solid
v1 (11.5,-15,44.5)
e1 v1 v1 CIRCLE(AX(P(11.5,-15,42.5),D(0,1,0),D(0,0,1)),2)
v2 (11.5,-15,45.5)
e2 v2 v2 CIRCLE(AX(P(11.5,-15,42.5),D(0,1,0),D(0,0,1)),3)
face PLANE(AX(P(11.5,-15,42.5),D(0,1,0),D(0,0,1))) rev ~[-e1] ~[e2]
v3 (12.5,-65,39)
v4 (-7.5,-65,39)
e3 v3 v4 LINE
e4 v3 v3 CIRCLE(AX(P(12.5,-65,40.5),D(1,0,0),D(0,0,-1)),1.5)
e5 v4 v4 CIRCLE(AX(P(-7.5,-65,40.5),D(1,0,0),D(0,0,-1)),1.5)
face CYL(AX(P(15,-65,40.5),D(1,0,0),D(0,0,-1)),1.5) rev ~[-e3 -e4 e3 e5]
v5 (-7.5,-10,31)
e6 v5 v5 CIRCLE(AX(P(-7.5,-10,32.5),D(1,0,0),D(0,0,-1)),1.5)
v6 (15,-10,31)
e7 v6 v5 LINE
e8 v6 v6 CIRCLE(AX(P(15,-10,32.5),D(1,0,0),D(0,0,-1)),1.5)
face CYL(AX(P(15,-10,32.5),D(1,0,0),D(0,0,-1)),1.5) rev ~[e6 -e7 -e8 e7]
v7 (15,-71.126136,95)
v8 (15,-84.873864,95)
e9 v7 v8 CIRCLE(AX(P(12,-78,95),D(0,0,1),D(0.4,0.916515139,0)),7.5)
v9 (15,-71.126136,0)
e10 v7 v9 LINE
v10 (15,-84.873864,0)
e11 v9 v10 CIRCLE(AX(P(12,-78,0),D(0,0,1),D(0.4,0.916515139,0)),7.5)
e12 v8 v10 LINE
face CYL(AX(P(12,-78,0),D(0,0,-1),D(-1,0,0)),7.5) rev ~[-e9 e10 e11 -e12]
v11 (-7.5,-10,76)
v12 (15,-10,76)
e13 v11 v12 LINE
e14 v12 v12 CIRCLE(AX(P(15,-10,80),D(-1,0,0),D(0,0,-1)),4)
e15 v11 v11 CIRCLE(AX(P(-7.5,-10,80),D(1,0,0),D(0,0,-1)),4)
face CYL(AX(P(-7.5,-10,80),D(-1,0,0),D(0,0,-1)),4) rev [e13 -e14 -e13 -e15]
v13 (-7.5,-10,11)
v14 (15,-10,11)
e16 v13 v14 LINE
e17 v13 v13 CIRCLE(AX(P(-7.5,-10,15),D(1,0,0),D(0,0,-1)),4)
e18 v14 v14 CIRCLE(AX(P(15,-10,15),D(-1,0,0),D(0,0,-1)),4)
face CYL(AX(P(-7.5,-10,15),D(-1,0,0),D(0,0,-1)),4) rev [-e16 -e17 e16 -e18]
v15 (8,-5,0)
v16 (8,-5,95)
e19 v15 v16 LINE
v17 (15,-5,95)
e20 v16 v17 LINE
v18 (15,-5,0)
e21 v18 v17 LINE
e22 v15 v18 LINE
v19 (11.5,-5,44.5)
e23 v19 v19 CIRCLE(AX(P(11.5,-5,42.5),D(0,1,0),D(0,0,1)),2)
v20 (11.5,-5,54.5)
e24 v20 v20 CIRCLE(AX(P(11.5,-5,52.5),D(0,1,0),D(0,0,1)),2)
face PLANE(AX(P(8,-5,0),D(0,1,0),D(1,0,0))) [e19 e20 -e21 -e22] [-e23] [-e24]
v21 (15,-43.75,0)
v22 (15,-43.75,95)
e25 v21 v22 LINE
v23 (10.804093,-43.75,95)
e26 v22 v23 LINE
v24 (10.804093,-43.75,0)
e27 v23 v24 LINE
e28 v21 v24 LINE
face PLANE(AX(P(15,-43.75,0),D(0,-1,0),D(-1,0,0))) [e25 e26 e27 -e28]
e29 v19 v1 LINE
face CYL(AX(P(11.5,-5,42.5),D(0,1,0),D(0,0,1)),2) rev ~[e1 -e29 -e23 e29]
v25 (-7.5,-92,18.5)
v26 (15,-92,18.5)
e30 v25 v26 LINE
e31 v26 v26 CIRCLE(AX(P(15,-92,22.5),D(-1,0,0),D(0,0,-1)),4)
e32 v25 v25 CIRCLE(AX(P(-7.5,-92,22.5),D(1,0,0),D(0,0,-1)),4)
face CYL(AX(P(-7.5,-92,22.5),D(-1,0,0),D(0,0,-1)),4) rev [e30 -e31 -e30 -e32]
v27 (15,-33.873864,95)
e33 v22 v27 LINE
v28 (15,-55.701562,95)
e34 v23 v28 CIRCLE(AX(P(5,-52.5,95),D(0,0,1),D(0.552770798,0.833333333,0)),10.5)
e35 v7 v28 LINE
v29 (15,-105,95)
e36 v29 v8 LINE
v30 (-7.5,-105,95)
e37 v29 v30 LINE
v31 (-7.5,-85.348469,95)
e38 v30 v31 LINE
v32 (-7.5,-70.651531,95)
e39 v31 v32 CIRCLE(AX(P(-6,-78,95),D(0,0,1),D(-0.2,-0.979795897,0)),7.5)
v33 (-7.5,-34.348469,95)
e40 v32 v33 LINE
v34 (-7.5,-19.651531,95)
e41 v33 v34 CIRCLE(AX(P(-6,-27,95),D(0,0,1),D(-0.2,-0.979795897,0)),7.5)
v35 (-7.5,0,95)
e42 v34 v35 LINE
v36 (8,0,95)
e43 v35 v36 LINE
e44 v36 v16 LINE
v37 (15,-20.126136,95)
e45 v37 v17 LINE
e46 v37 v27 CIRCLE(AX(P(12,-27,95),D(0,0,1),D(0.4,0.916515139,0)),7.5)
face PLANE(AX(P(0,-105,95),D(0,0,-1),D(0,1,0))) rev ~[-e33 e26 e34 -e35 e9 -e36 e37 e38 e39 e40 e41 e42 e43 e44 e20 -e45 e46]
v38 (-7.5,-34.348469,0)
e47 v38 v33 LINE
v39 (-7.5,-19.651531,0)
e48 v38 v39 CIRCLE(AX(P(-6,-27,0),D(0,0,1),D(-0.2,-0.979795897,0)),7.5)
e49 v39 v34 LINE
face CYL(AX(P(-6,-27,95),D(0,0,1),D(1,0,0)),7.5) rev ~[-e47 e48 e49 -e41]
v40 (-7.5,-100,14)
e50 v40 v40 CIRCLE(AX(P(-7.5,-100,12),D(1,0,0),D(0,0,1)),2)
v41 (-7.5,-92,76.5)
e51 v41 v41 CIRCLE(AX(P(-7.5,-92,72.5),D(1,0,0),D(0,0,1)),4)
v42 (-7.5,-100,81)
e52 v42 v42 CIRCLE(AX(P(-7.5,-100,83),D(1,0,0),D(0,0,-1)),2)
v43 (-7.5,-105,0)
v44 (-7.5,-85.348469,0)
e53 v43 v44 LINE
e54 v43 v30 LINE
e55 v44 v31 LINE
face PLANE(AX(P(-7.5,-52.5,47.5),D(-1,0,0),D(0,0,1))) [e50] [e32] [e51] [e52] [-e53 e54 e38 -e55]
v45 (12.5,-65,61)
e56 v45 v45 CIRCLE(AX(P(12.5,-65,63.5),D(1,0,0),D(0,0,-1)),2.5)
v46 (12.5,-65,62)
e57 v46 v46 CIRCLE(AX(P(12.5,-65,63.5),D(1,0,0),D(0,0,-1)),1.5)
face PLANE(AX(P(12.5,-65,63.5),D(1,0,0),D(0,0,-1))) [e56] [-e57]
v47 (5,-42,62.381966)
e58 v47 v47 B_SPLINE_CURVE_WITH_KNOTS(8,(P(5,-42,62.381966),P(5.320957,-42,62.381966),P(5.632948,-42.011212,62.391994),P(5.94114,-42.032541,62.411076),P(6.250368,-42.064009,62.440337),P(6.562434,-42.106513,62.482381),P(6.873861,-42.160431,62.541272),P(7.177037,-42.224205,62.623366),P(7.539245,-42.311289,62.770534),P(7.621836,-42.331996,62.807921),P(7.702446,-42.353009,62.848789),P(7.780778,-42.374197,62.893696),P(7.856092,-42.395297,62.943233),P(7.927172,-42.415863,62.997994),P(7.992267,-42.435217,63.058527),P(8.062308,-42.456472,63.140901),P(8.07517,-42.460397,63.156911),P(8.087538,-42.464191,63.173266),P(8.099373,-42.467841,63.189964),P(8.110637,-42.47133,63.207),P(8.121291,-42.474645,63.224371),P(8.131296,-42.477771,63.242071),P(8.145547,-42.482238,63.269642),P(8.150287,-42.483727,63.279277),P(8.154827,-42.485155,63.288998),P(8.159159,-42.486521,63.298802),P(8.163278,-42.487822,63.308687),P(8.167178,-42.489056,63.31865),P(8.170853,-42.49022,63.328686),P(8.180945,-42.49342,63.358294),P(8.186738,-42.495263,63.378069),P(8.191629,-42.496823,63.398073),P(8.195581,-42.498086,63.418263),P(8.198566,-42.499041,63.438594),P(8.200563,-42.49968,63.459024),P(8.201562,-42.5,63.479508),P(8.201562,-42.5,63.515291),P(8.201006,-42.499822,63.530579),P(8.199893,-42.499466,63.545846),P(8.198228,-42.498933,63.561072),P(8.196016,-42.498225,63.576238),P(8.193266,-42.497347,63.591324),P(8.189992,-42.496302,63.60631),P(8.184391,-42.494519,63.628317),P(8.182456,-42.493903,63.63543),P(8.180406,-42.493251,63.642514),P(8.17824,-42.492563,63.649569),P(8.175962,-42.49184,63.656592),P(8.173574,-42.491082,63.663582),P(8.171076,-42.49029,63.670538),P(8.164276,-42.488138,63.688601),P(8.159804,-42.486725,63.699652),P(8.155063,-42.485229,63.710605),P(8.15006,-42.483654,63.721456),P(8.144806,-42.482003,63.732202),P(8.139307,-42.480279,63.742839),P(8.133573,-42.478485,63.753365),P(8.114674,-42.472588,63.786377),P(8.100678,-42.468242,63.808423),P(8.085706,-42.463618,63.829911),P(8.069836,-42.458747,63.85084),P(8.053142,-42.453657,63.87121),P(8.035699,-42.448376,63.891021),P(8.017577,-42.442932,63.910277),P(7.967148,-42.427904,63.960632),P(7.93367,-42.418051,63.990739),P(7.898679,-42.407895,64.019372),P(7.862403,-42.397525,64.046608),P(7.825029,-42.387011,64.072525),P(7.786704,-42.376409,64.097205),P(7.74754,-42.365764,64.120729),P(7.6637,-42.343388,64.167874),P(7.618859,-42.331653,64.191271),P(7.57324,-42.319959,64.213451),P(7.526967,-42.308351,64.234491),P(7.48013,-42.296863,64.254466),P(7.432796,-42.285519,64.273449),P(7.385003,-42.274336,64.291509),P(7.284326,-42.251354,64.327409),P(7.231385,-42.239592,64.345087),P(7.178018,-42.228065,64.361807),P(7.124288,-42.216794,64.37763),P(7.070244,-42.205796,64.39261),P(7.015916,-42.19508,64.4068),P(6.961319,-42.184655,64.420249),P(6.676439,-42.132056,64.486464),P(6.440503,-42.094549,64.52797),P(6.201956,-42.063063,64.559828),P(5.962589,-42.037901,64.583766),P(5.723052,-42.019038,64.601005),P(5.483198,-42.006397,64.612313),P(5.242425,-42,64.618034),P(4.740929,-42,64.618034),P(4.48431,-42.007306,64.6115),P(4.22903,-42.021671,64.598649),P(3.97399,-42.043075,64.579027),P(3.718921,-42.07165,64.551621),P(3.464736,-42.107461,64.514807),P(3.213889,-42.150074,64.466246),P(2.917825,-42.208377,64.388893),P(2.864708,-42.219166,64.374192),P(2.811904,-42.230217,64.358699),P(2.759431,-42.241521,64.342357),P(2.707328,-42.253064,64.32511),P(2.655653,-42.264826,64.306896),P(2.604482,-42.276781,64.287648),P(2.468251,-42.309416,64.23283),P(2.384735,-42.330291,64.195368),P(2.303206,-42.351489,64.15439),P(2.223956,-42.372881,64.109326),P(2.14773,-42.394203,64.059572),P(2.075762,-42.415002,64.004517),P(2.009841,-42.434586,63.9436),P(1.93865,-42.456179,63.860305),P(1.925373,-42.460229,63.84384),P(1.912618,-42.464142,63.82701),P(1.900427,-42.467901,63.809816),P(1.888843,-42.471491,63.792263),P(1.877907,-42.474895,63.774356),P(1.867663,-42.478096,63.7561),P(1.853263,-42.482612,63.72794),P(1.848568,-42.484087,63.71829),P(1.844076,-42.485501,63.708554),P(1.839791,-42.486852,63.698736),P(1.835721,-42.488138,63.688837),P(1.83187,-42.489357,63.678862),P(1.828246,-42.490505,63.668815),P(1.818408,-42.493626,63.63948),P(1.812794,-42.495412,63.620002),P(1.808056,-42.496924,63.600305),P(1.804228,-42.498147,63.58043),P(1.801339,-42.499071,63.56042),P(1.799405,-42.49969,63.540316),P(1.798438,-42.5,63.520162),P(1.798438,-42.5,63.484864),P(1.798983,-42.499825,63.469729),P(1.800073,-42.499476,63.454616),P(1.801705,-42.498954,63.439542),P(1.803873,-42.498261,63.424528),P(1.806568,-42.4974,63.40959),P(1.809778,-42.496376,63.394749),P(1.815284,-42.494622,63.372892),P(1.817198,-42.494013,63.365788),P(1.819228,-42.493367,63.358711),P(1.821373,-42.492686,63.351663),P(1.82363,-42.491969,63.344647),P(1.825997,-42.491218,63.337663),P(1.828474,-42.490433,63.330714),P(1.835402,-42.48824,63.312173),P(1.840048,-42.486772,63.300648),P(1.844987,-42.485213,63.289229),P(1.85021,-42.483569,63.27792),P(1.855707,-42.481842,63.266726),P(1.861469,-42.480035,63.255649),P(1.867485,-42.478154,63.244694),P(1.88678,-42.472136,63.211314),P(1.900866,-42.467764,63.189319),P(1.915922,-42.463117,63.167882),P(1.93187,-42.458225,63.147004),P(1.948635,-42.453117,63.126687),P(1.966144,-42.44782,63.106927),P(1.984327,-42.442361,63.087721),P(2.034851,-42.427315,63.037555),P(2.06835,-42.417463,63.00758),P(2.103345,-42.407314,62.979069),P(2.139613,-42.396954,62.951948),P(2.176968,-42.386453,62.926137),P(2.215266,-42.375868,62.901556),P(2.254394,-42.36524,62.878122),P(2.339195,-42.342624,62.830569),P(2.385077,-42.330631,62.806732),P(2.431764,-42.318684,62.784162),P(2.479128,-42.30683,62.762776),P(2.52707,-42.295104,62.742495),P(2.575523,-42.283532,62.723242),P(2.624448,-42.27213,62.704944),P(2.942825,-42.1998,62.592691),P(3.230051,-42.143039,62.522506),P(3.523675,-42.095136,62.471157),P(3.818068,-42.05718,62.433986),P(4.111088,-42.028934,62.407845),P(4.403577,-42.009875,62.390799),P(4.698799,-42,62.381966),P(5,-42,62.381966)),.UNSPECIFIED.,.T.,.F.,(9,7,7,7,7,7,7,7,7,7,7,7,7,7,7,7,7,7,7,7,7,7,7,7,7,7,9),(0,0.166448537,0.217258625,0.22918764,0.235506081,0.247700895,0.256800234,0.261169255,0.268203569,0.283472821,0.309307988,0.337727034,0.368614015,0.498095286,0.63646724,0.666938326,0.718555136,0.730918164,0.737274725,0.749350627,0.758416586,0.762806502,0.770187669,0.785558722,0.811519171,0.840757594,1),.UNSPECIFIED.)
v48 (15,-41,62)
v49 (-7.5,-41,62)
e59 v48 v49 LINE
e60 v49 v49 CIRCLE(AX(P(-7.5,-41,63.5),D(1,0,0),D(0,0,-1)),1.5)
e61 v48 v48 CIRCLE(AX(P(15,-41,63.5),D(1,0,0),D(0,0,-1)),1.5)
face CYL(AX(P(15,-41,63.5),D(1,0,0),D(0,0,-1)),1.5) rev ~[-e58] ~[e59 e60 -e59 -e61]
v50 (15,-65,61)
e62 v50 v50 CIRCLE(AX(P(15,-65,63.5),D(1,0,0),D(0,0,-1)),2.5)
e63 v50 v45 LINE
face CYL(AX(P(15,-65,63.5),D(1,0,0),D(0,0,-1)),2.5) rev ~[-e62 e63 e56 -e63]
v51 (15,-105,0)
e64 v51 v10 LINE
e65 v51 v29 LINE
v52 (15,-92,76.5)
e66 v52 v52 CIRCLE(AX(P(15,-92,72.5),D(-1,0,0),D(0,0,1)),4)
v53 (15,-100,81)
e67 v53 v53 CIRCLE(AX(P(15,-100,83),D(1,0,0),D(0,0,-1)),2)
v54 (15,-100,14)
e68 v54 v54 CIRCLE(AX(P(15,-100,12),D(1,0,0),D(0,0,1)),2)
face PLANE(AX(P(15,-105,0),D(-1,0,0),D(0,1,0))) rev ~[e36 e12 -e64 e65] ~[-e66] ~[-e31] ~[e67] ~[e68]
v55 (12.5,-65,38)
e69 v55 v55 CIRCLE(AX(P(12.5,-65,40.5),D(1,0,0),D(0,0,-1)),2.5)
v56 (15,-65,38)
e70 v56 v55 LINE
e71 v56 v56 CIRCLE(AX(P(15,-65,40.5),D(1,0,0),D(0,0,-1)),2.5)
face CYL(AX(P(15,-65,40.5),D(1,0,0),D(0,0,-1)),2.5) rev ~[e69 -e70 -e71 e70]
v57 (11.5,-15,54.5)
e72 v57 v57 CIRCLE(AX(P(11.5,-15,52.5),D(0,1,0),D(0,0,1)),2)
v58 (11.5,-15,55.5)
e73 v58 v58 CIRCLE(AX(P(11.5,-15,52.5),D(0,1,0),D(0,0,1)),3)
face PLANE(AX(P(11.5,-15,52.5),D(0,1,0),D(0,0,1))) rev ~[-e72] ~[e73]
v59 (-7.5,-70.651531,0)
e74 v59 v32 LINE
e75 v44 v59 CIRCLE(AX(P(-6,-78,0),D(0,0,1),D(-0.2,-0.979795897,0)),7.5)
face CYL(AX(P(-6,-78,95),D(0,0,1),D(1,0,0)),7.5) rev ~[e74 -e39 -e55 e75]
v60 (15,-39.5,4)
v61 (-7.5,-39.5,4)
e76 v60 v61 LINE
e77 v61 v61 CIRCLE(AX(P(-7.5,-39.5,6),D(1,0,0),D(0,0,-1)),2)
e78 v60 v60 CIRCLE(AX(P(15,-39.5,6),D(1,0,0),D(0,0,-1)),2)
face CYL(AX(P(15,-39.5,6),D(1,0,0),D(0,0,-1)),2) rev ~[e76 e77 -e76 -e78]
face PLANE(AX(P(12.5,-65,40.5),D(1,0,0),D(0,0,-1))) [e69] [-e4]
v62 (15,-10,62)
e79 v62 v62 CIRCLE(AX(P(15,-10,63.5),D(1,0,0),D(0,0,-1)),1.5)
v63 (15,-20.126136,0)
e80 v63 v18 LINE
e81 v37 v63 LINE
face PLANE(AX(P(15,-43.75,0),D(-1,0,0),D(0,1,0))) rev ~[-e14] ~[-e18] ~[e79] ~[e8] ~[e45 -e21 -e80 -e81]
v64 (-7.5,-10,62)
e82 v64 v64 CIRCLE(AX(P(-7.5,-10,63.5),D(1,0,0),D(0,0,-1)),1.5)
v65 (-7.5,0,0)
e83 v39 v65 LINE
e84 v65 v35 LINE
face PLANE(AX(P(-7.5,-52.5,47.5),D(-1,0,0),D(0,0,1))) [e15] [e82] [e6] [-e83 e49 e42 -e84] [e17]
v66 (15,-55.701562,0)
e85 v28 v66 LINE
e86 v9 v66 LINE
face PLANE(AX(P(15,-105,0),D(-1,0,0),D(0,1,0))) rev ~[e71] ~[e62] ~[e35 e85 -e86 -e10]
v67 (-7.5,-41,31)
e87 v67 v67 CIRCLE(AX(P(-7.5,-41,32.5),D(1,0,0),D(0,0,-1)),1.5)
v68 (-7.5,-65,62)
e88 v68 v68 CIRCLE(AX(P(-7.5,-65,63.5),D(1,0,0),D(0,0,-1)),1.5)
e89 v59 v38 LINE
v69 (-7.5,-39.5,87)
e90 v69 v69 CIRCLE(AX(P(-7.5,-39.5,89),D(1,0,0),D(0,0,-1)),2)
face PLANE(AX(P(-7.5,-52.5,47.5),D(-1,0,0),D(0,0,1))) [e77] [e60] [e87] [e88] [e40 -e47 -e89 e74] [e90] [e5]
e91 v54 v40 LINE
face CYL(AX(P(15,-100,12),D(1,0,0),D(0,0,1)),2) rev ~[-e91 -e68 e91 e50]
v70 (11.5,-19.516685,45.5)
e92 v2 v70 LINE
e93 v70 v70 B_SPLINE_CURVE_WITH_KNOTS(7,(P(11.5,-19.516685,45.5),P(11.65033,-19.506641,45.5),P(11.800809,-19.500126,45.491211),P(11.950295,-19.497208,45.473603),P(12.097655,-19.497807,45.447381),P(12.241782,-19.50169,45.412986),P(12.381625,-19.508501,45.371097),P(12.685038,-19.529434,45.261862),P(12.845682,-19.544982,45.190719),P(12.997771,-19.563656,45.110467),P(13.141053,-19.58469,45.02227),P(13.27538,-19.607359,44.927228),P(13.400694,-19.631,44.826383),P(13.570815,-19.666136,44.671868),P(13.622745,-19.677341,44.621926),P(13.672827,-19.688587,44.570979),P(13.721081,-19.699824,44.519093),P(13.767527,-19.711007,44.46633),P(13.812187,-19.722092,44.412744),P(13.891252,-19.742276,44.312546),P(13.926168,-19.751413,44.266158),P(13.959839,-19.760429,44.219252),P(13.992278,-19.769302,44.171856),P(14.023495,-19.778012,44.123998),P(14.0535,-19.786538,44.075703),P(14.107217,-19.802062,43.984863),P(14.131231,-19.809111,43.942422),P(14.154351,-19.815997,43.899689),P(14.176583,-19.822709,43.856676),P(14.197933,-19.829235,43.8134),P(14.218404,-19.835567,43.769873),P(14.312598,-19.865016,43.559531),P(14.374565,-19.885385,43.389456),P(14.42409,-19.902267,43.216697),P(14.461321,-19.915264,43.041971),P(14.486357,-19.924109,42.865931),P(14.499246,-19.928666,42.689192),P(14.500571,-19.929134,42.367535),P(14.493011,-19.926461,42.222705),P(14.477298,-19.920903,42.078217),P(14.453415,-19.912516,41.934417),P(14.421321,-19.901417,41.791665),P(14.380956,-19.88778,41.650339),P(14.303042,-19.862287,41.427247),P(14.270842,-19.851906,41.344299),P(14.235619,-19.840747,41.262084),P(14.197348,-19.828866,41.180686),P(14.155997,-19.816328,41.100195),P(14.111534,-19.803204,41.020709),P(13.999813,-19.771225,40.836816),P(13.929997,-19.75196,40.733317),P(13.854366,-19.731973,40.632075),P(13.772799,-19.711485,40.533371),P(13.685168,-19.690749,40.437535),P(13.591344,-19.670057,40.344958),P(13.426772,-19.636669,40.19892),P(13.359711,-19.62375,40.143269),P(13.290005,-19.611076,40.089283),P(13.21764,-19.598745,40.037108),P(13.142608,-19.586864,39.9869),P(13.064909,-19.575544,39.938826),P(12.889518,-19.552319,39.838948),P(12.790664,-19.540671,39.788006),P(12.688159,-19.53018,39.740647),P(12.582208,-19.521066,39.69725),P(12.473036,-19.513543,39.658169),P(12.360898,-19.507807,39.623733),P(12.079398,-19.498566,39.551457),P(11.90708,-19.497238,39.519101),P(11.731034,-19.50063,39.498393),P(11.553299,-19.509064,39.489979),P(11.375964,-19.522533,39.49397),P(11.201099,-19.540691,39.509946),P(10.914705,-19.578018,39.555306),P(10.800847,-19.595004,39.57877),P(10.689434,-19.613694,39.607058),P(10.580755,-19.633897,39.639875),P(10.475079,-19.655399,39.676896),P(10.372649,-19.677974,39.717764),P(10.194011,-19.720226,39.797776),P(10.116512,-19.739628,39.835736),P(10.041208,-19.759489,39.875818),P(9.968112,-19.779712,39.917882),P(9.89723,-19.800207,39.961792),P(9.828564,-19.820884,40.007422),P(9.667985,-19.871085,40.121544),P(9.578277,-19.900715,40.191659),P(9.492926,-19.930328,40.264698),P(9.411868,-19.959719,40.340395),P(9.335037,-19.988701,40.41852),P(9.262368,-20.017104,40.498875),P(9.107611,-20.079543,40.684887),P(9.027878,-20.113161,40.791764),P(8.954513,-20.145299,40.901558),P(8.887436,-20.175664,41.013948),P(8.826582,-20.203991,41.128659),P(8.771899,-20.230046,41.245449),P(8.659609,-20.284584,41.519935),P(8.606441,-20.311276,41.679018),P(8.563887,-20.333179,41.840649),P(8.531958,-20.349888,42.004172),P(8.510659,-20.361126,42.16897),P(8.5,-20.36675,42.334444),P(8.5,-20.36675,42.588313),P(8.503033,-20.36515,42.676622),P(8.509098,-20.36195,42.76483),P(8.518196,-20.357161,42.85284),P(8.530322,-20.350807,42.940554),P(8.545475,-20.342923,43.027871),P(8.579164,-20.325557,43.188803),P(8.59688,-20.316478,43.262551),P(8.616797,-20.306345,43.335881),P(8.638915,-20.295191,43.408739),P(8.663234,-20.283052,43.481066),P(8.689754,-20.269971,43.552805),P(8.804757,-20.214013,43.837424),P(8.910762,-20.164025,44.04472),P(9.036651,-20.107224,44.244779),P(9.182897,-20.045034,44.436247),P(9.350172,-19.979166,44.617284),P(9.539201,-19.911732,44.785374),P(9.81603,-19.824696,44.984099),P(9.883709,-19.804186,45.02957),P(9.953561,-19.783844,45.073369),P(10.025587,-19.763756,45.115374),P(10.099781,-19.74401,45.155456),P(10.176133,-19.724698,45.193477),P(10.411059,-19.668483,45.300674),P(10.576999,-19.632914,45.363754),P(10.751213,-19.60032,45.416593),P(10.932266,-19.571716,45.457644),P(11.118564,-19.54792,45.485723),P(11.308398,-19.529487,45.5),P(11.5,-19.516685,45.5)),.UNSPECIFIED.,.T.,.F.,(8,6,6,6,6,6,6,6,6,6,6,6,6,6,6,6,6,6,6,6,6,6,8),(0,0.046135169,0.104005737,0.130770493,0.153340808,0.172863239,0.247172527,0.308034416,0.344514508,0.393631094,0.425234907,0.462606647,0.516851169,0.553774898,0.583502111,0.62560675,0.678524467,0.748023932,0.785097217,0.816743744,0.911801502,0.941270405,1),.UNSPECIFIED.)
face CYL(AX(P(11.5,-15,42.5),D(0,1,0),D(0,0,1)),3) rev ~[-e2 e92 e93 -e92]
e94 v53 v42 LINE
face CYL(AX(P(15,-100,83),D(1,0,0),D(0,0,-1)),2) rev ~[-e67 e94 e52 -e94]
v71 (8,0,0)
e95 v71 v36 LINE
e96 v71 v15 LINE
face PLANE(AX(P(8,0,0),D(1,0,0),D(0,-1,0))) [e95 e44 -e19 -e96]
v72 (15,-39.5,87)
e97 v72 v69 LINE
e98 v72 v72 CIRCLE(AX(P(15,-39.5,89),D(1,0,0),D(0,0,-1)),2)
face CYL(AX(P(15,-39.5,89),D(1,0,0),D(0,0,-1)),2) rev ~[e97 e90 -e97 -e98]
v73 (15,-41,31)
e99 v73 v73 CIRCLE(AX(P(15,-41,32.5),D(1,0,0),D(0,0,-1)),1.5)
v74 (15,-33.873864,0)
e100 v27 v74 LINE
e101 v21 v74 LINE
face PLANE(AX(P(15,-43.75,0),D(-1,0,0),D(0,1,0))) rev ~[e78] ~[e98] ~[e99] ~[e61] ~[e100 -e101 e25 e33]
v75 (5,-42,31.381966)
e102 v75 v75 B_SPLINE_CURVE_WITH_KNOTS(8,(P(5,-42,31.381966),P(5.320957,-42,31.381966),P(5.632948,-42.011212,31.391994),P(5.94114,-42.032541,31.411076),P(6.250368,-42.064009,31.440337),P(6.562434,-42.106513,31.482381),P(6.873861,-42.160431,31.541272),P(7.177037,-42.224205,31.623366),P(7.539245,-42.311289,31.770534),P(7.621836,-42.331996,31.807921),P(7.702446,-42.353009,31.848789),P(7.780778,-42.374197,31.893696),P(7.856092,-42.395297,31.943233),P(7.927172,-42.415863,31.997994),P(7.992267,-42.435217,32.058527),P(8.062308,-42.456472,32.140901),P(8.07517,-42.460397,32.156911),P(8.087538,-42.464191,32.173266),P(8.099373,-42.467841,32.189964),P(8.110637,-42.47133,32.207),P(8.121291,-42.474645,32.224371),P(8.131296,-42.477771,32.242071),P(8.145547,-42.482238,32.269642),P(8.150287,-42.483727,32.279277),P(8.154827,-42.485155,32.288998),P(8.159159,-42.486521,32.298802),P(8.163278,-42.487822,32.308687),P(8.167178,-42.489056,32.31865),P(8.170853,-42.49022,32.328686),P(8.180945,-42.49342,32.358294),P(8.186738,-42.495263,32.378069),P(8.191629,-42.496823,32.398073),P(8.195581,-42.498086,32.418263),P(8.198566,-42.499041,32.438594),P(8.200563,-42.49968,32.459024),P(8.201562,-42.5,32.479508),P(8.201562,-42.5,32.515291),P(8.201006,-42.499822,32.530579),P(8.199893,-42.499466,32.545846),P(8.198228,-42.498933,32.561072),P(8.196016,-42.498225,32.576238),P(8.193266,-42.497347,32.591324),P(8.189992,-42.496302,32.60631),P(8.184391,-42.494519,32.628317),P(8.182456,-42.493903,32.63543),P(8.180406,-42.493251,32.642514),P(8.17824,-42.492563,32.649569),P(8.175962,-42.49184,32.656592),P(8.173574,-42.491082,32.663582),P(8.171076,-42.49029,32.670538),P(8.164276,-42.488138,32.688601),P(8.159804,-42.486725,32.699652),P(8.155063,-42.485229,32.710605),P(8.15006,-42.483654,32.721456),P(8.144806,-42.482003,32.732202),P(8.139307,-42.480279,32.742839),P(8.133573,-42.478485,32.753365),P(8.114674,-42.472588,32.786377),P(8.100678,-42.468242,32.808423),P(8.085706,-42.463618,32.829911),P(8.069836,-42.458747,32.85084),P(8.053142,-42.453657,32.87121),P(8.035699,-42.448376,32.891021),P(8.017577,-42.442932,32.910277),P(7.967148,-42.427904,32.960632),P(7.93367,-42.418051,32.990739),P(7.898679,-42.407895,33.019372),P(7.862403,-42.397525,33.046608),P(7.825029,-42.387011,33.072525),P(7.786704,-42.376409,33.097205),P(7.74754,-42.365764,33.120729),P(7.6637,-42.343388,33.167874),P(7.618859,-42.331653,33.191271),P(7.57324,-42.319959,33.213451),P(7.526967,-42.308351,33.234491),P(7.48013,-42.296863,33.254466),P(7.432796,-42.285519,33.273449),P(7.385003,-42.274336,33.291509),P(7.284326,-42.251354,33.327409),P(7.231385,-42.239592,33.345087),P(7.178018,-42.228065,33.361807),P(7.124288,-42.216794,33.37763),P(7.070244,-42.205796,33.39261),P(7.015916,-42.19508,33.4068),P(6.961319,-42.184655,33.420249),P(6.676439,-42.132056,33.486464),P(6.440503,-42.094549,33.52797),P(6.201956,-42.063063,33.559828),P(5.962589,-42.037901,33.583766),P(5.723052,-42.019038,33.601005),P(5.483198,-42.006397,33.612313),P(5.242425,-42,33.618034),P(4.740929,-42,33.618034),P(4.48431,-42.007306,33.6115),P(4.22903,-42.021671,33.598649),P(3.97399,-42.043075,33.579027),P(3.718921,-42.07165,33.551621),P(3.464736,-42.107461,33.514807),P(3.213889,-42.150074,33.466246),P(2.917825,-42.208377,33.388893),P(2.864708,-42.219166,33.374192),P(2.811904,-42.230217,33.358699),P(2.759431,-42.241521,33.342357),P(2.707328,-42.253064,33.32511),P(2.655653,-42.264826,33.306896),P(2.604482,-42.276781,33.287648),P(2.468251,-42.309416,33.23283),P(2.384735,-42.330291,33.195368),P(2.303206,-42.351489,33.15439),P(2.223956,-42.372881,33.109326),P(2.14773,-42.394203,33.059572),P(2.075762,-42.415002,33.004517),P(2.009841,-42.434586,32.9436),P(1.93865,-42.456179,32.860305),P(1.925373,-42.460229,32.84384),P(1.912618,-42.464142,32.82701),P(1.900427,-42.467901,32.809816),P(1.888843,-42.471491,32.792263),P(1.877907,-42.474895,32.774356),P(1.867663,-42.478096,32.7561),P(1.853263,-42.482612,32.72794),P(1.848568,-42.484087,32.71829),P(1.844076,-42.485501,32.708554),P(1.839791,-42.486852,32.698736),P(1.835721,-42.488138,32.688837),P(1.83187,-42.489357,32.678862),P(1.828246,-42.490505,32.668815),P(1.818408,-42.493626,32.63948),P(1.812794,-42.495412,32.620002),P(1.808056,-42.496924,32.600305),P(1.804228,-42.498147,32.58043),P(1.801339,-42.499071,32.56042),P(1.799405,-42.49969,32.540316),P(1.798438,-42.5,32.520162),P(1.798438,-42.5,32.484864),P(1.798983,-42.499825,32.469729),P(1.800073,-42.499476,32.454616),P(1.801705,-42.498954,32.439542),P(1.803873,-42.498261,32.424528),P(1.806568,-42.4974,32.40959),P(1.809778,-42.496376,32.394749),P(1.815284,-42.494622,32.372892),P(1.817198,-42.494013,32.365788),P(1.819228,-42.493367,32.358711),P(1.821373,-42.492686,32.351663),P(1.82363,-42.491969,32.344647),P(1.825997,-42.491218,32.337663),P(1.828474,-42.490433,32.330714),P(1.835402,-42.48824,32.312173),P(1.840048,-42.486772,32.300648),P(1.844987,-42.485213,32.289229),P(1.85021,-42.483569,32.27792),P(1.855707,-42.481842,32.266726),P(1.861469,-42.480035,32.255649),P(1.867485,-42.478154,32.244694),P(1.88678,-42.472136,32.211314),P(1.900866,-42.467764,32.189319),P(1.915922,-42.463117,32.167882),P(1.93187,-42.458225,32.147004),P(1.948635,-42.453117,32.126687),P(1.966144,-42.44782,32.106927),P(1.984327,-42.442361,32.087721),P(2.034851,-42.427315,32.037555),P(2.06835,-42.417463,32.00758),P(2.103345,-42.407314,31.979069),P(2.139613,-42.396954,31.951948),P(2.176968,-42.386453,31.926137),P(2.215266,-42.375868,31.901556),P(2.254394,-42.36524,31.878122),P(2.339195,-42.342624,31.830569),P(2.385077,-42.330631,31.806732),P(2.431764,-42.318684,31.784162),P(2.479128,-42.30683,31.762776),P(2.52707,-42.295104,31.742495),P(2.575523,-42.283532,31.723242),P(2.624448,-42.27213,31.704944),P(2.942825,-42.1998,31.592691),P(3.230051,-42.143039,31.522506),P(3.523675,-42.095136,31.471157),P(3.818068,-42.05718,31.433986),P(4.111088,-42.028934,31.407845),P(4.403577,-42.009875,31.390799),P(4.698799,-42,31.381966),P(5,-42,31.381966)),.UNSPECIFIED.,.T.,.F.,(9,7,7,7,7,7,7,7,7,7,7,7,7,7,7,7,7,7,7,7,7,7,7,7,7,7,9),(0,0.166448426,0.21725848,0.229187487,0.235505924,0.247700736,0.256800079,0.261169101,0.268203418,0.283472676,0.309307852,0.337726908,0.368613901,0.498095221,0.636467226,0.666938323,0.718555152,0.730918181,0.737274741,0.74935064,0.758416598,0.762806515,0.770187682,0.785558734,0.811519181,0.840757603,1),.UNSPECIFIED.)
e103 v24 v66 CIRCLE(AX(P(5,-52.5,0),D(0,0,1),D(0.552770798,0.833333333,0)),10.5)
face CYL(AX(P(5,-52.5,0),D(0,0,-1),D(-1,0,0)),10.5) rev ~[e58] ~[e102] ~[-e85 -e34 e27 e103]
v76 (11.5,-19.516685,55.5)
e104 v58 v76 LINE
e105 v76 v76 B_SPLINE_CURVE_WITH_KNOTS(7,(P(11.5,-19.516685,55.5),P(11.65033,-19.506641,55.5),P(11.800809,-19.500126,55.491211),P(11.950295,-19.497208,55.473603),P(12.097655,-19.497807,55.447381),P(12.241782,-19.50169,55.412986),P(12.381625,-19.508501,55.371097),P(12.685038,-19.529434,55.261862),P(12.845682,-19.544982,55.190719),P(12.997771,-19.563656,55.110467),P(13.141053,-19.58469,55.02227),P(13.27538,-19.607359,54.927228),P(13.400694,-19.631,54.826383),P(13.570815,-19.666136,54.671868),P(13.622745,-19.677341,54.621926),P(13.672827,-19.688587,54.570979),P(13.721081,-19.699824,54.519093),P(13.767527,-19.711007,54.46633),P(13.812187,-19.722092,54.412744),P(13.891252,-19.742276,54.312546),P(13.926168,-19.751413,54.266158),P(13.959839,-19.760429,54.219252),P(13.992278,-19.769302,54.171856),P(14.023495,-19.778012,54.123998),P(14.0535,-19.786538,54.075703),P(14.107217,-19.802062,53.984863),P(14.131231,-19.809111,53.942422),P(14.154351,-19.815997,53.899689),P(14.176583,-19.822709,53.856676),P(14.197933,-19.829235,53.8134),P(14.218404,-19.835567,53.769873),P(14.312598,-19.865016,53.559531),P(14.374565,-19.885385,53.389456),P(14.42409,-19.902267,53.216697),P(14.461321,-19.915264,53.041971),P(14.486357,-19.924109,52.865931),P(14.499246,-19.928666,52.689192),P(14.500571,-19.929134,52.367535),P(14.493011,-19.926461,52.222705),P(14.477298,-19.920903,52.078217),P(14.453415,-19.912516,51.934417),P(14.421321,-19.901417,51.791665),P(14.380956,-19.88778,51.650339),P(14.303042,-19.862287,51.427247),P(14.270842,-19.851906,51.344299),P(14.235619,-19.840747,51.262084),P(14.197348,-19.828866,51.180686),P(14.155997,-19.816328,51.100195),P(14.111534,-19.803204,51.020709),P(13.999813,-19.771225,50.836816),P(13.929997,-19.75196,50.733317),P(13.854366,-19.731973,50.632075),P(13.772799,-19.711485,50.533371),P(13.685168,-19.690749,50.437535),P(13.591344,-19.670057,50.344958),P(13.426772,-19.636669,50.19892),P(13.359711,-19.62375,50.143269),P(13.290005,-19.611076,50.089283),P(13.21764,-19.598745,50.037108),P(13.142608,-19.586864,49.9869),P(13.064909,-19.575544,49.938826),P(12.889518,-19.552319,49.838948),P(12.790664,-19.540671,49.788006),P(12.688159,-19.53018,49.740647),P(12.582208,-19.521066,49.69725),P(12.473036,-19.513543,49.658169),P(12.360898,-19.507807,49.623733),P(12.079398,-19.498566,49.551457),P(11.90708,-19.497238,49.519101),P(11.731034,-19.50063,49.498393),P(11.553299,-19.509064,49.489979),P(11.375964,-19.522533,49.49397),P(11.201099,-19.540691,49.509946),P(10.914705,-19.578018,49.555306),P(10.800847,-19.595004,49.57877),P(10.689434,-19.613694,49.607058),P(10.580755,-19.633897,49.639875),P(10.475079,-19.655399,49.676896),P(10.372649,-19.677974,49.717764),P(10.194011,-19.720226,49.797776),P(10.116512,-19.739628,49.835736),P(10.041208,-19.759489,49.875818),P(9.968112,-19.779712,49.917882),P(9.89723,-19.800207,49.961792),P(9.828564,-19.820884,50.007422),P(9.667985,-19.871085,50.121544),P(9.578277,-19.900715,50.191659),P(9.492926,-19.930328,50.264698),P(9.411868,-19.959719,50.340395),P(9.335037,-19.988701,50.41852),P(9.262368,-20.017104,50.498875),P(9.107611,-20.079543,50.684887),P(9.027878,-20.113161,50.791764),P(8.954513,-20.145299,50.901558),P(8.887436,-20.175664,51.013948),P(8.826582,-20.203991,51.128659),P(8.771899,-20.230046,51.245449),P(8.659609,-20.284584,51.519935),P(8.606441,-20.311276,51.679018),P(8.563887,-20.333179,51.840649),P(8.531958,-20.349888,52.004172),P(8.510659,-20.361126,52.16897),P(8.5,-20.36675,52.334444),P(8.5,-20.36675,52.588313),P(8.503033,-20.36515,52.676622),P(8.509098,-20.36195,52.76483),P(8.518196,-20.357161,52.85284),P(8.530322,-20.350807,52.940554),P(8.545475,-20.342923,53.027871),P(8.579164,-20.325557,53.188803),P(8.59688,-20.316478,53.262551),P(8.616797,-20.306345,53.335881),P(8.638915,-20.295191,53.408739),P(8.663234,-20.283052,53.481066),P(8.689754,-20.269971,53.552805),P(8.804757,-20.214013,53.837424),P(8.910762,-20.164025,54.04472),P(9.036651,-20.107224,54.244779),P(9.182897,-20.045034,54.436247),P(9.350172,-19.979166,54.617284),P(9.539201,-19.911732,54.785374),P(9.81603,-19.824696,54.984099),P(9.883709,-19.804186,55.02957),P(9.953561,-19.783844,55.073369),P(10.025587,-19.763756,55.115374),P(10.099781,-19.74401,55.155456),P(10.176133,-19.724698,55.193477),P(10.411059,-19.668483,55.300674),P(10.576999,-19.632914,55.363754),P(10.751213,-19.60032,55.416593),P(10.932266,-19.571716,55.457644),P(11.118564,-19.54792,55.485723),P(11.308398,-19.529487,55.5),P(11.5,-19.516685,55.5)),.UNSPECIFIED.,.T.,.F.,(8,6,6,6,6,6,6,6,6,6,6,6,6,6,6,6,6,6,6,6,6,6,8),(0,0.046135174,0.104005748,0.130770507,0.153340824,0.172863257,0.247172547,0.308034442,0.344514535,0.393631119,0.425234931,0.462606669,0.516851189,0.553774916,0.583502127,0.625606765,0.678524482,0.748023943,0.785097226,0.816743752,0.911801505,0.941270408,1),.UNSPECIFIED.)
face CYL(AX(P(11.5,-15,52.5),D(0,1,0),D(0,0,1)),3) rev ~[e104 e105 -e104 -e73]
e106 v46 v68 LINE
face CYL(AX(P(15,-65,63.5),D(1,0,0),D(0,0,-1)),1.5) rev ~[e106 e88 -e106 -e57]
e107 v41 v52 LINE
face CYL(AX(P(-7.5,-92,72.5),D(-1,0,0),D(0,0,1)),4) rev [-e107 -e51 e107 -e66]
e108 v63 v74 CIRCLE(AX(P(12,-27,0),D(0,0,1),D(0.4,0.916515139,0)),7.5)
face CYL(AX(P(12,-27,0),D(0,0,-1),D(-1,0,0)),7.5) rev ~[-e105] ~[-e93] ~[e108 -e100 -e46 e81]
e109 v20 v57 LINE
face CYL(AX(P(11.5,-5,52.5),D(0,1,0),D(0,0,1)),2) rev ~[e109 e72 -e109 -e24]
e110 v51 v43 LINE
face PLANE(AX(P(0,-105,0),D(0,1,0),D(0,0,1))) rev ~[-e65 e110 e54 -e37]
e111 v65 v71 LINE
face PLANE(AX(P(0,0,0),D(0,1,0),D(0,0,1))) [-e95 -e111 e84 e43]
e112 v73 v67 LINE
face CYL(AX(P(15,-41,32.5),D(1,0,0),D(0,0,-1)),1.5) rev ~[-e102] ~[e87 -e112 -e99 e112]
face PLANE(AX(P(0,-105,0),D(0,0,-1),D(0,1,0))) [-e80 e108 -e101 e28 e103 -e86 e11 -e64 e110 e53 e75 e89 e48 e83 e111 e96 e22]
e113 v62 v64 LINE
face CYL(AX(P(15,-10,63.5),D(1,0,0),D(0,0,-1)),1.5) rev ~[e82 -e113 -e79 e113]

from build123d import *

# Parameters (mm, degrees)
BOSS_EXTRUDE1_DEPTH         = 95
SKETCH17_W                  = 95
SKETCH17_H                  = 105
BOSS_EXTRUDE3_DEPTH         = 7.5
SKETCH18_R                  = 7.5
CUT_EXTRUDE3_DEPTH          = 143.390308659
ESQUISSE1_R                 = 2
ENL_V_MAT_EXTRU_1_DEPTH     = 144.374509589
ESQUISSE3_R                 = 2
ENL_V_MAT_EXTRU_3_DEPTH     = 144.374509589
ESQUISSE4_R                 = 7.5
ESQUISSE4_R_2               = 10.5
ENL_V_MAT_EXTRU_4_DEPTH     = 143.390308659
ESQUISSE5_R                 = 4
ENL_V_MAT_EXTRU_15CNC_DEPTH = 144.374509589
ESQUISSE6_R                 = 1.5
ENL_V_MAT_EXTRU_19_DEPTH    = 144.374509589
ESQUISSE8_R                 = 2
ENL_V_MAT_EXTRU_20_DEPTH    = 15
ENL_V_START                 = -10
ESQUISSE8_3_R               = 3
ESQUISSE8_3_R_2             = 2
ENL_V_MAT_EXTRU_21_DEPTH    = 10
ESQUISSE9_R                 = 2.5
ENL_V_MAT_EXTRU_22_DEPTH    = 2.5


with BuildPart() as part:
    # Sketch1 → Boss-Extrude1 (new body)
    with BuildSketch(Plane.XY):
        Polygon((0, 0), (8, 0), (8, -5), (15, -5), (15, -9.75), (15, -24.75), (15, -43.75), (7, -43.75), (7, -53.25), (15, -53.25), (15, -60.75), (15, -105), (0, -105), align=None)
    extrude(amount=BOSS_EXTRUDE1_DEPTH)

    # Sketch17 → Boss-Extrude3 (add)
    with BuildSketch(Plane.ZY):
        with Locations((47.5, -52.5)):
            Rectangle(SKETCH17_W, SKETCH17_H)
    extrude(amount=BOSS_EXTRUDE3_DEPTH)

    # Sketch18 → Cut-Extrude3 (cut, through all)
    with BuildSketch(Plane.XY.offset(95)):
        with Locations((-6, -27)):
            Circle(SKETCH18_R)
        with Locations((-6, -78)):
            Circle(SKETCH18_R)
    extrude(amount=-CUT_EXTRUDE3_DEPTH, mode=Mode.SUBTRACT)

    # Esquisse1 → Enlèv. mat.-Extru.1 (cut, through all)
    with BuildSketch(Plane(origin=(15, 0, 0), x_dir=(0, 0, -1), z_dir=(1, 0, 0))):
        with Locations((-83, -100)):
            Circle(ESQUISSE1_R)
        with Locations((-12, -100)):
            Circle(ESQUISSE1_R)
    extrude(amount=-ENL_V_MAT_EXTRU_1_DEPTH, mode=Mode.SUBTRACT)

    # Esquisse3 → Enlèv. mat.-Extru.3 (cut, through all)
    with BuildSketch(Plane(origin=(15, 0, 0), x_dir=(0, 0, -1), z_dir=(1, 0, 0))):
        with Locations((-6, -39.5)):
            Circle(ESQUISSE3_R)
        with Locations((-89, -39.5)):
            Circle(ESQUISSE3_R)
    extrude(amount=-ENL_V_MAT_EXTRU_3_DEPTH, mode=Mode.SUBTRACT)

    # Esquisse4 → Enlèv. mat.-Extru.4 (cut, through all)
    with BuildSketch(Plane(origin=(0, 0, 0), x_dir=(-1, 0, 0), z_dir=(0, 0, -1))):
        with Locations((-12, -78)):
            Circle(ESQUISSE4_R)
        with Locations((-12, -27)):
            Circle(ESQUISSE4_R)
        with Locations((-5, -52.5)):
            Circle(ESQUISSE4_R_2)
    extrude(amount=-ENL_V_MAT_EXTRU_4_DEPTH, mode=Mode.SUBTRACT)

    # Esquisse5 → Enlèv. mat.-Extru.15CNC (cut, through all)
    with BuildSketch(Plane(origin=(-7.5, 0, 0), x_dir=(0, 0, -1), z_dir=(1, 0, 0))):
        with Locations((-15, -10)):
            Circle(ESQUISSE5_R)
        with Locations((-80, -10)):
            Circle(ESQUISSE5_R)
        with Locations((-22.5, -92)):
            Circle(ESQUISSE5_R)
        with Locations((-72.5, -92)):
            Circle(ESQUISSE5_R)
    extrude(amount=ENL_V_MAT_EXTRU_15CNC_DEPTH, mode=Mode.SUBTRACT)

    # Esquisse6 → Enlèv. mat.-Extru.19 (cut, through all)
    with BuildSketch(Plane(origin=(15, 0, 0), x_dir=(0, 0, -1), z_dir=(1, 0, 0))):
        with Locations((-32.5, -10)):
            Circle(ESQUISSE6_R)
        with Locations((-63.5, -10)):
            Circle(ESQUISSE6_R)
        with Locations((-63.5, -41)):
            Circle(ESQUISSE6_R)
        with Locations((-32.5, -41)):
            Circle(ESQUISSE6_R)
        with Locations((-40.5, -65)):
            Circle(ESQUISSE6_R)
        with Locations((-63.5, -65)):
            Circle(ESQUISSE6_R)
    extrude(amount=-ENL_V_MAT_EXTRU_19_DEPTH, mode=Mode.SUBTRACT)

    # Esquisse8 → Enlèv. mat.-Extru.20 (cut)
    with BuildSketch(Plane(origin=(0, -5, 0), x_dir=(1, 0, 0), z_dir=(0, 1, 0))):
        with Locations((11.5, -42.5)):
            Circle(ESQUISSE8_R)
        with Locations((11.5, -52.5)):
            Circle(ESQUISSE8_R)
    extrude(amount=-ENL_V_MAT_EXTRU_20_DEPTH, mode=Mode.SUBTRACT)

    # Esquisse8<3> → Enlèv. mat.-Extru.21 (cut)
    # profile 1 of 2: a face of its own
    with BuildSketch(Plane(origin=(0, -5, 0), x_dir=(1, 0, 0), z_dir=(0, 1, 0)).offset(ENL_V_START)):
        with Locations((11.5, -42.5)):
            Circle(ESQUISSE8_3_R)
        with Locations((11.5, -42.5)):
            Circle(ESQUISSE8_3_R_2, mode=Mode.SUBTRACT)
    # profile 2 of 2: a face of its own
    with BuildSketch(Plane(origin=(0, -5, 0), x_dir=(1, 0, 0), z_dir=(0, 1, 0)).offset(ENL_V_START)):
        with Locations((11.5, -52.5)):
            Circle(ESQUISSE8_3_R)
        with Locations((11.5, -52.5)):
            Circle(ESQUISSE8_3_R_2, mode=Mode.SUBTRACT)
    extrude(amount=-ENL_V_MAT_EXTRU_21_DEPTH, mode=Mode.SUBTRACT)

    # Esquisse9 → Enlèv. mat.-Extru.22 (cut)
    with BuildSketch(Plane(origin=(15, 0, 0), x_dir=(0, 0, -1), z_dir=(1, 0, 0))):
        with Locations((-40.5, -65)):
            Circle(ESQUISSE9_R)
        with Locations((-63.5, -65)):
            Circle(ESQUISSE9_R)
    extrude(amount=-ENL_V_MAT_EXTRU_22_DEPTH, mode=Mode.SUBTRACT)


solid = part.part
